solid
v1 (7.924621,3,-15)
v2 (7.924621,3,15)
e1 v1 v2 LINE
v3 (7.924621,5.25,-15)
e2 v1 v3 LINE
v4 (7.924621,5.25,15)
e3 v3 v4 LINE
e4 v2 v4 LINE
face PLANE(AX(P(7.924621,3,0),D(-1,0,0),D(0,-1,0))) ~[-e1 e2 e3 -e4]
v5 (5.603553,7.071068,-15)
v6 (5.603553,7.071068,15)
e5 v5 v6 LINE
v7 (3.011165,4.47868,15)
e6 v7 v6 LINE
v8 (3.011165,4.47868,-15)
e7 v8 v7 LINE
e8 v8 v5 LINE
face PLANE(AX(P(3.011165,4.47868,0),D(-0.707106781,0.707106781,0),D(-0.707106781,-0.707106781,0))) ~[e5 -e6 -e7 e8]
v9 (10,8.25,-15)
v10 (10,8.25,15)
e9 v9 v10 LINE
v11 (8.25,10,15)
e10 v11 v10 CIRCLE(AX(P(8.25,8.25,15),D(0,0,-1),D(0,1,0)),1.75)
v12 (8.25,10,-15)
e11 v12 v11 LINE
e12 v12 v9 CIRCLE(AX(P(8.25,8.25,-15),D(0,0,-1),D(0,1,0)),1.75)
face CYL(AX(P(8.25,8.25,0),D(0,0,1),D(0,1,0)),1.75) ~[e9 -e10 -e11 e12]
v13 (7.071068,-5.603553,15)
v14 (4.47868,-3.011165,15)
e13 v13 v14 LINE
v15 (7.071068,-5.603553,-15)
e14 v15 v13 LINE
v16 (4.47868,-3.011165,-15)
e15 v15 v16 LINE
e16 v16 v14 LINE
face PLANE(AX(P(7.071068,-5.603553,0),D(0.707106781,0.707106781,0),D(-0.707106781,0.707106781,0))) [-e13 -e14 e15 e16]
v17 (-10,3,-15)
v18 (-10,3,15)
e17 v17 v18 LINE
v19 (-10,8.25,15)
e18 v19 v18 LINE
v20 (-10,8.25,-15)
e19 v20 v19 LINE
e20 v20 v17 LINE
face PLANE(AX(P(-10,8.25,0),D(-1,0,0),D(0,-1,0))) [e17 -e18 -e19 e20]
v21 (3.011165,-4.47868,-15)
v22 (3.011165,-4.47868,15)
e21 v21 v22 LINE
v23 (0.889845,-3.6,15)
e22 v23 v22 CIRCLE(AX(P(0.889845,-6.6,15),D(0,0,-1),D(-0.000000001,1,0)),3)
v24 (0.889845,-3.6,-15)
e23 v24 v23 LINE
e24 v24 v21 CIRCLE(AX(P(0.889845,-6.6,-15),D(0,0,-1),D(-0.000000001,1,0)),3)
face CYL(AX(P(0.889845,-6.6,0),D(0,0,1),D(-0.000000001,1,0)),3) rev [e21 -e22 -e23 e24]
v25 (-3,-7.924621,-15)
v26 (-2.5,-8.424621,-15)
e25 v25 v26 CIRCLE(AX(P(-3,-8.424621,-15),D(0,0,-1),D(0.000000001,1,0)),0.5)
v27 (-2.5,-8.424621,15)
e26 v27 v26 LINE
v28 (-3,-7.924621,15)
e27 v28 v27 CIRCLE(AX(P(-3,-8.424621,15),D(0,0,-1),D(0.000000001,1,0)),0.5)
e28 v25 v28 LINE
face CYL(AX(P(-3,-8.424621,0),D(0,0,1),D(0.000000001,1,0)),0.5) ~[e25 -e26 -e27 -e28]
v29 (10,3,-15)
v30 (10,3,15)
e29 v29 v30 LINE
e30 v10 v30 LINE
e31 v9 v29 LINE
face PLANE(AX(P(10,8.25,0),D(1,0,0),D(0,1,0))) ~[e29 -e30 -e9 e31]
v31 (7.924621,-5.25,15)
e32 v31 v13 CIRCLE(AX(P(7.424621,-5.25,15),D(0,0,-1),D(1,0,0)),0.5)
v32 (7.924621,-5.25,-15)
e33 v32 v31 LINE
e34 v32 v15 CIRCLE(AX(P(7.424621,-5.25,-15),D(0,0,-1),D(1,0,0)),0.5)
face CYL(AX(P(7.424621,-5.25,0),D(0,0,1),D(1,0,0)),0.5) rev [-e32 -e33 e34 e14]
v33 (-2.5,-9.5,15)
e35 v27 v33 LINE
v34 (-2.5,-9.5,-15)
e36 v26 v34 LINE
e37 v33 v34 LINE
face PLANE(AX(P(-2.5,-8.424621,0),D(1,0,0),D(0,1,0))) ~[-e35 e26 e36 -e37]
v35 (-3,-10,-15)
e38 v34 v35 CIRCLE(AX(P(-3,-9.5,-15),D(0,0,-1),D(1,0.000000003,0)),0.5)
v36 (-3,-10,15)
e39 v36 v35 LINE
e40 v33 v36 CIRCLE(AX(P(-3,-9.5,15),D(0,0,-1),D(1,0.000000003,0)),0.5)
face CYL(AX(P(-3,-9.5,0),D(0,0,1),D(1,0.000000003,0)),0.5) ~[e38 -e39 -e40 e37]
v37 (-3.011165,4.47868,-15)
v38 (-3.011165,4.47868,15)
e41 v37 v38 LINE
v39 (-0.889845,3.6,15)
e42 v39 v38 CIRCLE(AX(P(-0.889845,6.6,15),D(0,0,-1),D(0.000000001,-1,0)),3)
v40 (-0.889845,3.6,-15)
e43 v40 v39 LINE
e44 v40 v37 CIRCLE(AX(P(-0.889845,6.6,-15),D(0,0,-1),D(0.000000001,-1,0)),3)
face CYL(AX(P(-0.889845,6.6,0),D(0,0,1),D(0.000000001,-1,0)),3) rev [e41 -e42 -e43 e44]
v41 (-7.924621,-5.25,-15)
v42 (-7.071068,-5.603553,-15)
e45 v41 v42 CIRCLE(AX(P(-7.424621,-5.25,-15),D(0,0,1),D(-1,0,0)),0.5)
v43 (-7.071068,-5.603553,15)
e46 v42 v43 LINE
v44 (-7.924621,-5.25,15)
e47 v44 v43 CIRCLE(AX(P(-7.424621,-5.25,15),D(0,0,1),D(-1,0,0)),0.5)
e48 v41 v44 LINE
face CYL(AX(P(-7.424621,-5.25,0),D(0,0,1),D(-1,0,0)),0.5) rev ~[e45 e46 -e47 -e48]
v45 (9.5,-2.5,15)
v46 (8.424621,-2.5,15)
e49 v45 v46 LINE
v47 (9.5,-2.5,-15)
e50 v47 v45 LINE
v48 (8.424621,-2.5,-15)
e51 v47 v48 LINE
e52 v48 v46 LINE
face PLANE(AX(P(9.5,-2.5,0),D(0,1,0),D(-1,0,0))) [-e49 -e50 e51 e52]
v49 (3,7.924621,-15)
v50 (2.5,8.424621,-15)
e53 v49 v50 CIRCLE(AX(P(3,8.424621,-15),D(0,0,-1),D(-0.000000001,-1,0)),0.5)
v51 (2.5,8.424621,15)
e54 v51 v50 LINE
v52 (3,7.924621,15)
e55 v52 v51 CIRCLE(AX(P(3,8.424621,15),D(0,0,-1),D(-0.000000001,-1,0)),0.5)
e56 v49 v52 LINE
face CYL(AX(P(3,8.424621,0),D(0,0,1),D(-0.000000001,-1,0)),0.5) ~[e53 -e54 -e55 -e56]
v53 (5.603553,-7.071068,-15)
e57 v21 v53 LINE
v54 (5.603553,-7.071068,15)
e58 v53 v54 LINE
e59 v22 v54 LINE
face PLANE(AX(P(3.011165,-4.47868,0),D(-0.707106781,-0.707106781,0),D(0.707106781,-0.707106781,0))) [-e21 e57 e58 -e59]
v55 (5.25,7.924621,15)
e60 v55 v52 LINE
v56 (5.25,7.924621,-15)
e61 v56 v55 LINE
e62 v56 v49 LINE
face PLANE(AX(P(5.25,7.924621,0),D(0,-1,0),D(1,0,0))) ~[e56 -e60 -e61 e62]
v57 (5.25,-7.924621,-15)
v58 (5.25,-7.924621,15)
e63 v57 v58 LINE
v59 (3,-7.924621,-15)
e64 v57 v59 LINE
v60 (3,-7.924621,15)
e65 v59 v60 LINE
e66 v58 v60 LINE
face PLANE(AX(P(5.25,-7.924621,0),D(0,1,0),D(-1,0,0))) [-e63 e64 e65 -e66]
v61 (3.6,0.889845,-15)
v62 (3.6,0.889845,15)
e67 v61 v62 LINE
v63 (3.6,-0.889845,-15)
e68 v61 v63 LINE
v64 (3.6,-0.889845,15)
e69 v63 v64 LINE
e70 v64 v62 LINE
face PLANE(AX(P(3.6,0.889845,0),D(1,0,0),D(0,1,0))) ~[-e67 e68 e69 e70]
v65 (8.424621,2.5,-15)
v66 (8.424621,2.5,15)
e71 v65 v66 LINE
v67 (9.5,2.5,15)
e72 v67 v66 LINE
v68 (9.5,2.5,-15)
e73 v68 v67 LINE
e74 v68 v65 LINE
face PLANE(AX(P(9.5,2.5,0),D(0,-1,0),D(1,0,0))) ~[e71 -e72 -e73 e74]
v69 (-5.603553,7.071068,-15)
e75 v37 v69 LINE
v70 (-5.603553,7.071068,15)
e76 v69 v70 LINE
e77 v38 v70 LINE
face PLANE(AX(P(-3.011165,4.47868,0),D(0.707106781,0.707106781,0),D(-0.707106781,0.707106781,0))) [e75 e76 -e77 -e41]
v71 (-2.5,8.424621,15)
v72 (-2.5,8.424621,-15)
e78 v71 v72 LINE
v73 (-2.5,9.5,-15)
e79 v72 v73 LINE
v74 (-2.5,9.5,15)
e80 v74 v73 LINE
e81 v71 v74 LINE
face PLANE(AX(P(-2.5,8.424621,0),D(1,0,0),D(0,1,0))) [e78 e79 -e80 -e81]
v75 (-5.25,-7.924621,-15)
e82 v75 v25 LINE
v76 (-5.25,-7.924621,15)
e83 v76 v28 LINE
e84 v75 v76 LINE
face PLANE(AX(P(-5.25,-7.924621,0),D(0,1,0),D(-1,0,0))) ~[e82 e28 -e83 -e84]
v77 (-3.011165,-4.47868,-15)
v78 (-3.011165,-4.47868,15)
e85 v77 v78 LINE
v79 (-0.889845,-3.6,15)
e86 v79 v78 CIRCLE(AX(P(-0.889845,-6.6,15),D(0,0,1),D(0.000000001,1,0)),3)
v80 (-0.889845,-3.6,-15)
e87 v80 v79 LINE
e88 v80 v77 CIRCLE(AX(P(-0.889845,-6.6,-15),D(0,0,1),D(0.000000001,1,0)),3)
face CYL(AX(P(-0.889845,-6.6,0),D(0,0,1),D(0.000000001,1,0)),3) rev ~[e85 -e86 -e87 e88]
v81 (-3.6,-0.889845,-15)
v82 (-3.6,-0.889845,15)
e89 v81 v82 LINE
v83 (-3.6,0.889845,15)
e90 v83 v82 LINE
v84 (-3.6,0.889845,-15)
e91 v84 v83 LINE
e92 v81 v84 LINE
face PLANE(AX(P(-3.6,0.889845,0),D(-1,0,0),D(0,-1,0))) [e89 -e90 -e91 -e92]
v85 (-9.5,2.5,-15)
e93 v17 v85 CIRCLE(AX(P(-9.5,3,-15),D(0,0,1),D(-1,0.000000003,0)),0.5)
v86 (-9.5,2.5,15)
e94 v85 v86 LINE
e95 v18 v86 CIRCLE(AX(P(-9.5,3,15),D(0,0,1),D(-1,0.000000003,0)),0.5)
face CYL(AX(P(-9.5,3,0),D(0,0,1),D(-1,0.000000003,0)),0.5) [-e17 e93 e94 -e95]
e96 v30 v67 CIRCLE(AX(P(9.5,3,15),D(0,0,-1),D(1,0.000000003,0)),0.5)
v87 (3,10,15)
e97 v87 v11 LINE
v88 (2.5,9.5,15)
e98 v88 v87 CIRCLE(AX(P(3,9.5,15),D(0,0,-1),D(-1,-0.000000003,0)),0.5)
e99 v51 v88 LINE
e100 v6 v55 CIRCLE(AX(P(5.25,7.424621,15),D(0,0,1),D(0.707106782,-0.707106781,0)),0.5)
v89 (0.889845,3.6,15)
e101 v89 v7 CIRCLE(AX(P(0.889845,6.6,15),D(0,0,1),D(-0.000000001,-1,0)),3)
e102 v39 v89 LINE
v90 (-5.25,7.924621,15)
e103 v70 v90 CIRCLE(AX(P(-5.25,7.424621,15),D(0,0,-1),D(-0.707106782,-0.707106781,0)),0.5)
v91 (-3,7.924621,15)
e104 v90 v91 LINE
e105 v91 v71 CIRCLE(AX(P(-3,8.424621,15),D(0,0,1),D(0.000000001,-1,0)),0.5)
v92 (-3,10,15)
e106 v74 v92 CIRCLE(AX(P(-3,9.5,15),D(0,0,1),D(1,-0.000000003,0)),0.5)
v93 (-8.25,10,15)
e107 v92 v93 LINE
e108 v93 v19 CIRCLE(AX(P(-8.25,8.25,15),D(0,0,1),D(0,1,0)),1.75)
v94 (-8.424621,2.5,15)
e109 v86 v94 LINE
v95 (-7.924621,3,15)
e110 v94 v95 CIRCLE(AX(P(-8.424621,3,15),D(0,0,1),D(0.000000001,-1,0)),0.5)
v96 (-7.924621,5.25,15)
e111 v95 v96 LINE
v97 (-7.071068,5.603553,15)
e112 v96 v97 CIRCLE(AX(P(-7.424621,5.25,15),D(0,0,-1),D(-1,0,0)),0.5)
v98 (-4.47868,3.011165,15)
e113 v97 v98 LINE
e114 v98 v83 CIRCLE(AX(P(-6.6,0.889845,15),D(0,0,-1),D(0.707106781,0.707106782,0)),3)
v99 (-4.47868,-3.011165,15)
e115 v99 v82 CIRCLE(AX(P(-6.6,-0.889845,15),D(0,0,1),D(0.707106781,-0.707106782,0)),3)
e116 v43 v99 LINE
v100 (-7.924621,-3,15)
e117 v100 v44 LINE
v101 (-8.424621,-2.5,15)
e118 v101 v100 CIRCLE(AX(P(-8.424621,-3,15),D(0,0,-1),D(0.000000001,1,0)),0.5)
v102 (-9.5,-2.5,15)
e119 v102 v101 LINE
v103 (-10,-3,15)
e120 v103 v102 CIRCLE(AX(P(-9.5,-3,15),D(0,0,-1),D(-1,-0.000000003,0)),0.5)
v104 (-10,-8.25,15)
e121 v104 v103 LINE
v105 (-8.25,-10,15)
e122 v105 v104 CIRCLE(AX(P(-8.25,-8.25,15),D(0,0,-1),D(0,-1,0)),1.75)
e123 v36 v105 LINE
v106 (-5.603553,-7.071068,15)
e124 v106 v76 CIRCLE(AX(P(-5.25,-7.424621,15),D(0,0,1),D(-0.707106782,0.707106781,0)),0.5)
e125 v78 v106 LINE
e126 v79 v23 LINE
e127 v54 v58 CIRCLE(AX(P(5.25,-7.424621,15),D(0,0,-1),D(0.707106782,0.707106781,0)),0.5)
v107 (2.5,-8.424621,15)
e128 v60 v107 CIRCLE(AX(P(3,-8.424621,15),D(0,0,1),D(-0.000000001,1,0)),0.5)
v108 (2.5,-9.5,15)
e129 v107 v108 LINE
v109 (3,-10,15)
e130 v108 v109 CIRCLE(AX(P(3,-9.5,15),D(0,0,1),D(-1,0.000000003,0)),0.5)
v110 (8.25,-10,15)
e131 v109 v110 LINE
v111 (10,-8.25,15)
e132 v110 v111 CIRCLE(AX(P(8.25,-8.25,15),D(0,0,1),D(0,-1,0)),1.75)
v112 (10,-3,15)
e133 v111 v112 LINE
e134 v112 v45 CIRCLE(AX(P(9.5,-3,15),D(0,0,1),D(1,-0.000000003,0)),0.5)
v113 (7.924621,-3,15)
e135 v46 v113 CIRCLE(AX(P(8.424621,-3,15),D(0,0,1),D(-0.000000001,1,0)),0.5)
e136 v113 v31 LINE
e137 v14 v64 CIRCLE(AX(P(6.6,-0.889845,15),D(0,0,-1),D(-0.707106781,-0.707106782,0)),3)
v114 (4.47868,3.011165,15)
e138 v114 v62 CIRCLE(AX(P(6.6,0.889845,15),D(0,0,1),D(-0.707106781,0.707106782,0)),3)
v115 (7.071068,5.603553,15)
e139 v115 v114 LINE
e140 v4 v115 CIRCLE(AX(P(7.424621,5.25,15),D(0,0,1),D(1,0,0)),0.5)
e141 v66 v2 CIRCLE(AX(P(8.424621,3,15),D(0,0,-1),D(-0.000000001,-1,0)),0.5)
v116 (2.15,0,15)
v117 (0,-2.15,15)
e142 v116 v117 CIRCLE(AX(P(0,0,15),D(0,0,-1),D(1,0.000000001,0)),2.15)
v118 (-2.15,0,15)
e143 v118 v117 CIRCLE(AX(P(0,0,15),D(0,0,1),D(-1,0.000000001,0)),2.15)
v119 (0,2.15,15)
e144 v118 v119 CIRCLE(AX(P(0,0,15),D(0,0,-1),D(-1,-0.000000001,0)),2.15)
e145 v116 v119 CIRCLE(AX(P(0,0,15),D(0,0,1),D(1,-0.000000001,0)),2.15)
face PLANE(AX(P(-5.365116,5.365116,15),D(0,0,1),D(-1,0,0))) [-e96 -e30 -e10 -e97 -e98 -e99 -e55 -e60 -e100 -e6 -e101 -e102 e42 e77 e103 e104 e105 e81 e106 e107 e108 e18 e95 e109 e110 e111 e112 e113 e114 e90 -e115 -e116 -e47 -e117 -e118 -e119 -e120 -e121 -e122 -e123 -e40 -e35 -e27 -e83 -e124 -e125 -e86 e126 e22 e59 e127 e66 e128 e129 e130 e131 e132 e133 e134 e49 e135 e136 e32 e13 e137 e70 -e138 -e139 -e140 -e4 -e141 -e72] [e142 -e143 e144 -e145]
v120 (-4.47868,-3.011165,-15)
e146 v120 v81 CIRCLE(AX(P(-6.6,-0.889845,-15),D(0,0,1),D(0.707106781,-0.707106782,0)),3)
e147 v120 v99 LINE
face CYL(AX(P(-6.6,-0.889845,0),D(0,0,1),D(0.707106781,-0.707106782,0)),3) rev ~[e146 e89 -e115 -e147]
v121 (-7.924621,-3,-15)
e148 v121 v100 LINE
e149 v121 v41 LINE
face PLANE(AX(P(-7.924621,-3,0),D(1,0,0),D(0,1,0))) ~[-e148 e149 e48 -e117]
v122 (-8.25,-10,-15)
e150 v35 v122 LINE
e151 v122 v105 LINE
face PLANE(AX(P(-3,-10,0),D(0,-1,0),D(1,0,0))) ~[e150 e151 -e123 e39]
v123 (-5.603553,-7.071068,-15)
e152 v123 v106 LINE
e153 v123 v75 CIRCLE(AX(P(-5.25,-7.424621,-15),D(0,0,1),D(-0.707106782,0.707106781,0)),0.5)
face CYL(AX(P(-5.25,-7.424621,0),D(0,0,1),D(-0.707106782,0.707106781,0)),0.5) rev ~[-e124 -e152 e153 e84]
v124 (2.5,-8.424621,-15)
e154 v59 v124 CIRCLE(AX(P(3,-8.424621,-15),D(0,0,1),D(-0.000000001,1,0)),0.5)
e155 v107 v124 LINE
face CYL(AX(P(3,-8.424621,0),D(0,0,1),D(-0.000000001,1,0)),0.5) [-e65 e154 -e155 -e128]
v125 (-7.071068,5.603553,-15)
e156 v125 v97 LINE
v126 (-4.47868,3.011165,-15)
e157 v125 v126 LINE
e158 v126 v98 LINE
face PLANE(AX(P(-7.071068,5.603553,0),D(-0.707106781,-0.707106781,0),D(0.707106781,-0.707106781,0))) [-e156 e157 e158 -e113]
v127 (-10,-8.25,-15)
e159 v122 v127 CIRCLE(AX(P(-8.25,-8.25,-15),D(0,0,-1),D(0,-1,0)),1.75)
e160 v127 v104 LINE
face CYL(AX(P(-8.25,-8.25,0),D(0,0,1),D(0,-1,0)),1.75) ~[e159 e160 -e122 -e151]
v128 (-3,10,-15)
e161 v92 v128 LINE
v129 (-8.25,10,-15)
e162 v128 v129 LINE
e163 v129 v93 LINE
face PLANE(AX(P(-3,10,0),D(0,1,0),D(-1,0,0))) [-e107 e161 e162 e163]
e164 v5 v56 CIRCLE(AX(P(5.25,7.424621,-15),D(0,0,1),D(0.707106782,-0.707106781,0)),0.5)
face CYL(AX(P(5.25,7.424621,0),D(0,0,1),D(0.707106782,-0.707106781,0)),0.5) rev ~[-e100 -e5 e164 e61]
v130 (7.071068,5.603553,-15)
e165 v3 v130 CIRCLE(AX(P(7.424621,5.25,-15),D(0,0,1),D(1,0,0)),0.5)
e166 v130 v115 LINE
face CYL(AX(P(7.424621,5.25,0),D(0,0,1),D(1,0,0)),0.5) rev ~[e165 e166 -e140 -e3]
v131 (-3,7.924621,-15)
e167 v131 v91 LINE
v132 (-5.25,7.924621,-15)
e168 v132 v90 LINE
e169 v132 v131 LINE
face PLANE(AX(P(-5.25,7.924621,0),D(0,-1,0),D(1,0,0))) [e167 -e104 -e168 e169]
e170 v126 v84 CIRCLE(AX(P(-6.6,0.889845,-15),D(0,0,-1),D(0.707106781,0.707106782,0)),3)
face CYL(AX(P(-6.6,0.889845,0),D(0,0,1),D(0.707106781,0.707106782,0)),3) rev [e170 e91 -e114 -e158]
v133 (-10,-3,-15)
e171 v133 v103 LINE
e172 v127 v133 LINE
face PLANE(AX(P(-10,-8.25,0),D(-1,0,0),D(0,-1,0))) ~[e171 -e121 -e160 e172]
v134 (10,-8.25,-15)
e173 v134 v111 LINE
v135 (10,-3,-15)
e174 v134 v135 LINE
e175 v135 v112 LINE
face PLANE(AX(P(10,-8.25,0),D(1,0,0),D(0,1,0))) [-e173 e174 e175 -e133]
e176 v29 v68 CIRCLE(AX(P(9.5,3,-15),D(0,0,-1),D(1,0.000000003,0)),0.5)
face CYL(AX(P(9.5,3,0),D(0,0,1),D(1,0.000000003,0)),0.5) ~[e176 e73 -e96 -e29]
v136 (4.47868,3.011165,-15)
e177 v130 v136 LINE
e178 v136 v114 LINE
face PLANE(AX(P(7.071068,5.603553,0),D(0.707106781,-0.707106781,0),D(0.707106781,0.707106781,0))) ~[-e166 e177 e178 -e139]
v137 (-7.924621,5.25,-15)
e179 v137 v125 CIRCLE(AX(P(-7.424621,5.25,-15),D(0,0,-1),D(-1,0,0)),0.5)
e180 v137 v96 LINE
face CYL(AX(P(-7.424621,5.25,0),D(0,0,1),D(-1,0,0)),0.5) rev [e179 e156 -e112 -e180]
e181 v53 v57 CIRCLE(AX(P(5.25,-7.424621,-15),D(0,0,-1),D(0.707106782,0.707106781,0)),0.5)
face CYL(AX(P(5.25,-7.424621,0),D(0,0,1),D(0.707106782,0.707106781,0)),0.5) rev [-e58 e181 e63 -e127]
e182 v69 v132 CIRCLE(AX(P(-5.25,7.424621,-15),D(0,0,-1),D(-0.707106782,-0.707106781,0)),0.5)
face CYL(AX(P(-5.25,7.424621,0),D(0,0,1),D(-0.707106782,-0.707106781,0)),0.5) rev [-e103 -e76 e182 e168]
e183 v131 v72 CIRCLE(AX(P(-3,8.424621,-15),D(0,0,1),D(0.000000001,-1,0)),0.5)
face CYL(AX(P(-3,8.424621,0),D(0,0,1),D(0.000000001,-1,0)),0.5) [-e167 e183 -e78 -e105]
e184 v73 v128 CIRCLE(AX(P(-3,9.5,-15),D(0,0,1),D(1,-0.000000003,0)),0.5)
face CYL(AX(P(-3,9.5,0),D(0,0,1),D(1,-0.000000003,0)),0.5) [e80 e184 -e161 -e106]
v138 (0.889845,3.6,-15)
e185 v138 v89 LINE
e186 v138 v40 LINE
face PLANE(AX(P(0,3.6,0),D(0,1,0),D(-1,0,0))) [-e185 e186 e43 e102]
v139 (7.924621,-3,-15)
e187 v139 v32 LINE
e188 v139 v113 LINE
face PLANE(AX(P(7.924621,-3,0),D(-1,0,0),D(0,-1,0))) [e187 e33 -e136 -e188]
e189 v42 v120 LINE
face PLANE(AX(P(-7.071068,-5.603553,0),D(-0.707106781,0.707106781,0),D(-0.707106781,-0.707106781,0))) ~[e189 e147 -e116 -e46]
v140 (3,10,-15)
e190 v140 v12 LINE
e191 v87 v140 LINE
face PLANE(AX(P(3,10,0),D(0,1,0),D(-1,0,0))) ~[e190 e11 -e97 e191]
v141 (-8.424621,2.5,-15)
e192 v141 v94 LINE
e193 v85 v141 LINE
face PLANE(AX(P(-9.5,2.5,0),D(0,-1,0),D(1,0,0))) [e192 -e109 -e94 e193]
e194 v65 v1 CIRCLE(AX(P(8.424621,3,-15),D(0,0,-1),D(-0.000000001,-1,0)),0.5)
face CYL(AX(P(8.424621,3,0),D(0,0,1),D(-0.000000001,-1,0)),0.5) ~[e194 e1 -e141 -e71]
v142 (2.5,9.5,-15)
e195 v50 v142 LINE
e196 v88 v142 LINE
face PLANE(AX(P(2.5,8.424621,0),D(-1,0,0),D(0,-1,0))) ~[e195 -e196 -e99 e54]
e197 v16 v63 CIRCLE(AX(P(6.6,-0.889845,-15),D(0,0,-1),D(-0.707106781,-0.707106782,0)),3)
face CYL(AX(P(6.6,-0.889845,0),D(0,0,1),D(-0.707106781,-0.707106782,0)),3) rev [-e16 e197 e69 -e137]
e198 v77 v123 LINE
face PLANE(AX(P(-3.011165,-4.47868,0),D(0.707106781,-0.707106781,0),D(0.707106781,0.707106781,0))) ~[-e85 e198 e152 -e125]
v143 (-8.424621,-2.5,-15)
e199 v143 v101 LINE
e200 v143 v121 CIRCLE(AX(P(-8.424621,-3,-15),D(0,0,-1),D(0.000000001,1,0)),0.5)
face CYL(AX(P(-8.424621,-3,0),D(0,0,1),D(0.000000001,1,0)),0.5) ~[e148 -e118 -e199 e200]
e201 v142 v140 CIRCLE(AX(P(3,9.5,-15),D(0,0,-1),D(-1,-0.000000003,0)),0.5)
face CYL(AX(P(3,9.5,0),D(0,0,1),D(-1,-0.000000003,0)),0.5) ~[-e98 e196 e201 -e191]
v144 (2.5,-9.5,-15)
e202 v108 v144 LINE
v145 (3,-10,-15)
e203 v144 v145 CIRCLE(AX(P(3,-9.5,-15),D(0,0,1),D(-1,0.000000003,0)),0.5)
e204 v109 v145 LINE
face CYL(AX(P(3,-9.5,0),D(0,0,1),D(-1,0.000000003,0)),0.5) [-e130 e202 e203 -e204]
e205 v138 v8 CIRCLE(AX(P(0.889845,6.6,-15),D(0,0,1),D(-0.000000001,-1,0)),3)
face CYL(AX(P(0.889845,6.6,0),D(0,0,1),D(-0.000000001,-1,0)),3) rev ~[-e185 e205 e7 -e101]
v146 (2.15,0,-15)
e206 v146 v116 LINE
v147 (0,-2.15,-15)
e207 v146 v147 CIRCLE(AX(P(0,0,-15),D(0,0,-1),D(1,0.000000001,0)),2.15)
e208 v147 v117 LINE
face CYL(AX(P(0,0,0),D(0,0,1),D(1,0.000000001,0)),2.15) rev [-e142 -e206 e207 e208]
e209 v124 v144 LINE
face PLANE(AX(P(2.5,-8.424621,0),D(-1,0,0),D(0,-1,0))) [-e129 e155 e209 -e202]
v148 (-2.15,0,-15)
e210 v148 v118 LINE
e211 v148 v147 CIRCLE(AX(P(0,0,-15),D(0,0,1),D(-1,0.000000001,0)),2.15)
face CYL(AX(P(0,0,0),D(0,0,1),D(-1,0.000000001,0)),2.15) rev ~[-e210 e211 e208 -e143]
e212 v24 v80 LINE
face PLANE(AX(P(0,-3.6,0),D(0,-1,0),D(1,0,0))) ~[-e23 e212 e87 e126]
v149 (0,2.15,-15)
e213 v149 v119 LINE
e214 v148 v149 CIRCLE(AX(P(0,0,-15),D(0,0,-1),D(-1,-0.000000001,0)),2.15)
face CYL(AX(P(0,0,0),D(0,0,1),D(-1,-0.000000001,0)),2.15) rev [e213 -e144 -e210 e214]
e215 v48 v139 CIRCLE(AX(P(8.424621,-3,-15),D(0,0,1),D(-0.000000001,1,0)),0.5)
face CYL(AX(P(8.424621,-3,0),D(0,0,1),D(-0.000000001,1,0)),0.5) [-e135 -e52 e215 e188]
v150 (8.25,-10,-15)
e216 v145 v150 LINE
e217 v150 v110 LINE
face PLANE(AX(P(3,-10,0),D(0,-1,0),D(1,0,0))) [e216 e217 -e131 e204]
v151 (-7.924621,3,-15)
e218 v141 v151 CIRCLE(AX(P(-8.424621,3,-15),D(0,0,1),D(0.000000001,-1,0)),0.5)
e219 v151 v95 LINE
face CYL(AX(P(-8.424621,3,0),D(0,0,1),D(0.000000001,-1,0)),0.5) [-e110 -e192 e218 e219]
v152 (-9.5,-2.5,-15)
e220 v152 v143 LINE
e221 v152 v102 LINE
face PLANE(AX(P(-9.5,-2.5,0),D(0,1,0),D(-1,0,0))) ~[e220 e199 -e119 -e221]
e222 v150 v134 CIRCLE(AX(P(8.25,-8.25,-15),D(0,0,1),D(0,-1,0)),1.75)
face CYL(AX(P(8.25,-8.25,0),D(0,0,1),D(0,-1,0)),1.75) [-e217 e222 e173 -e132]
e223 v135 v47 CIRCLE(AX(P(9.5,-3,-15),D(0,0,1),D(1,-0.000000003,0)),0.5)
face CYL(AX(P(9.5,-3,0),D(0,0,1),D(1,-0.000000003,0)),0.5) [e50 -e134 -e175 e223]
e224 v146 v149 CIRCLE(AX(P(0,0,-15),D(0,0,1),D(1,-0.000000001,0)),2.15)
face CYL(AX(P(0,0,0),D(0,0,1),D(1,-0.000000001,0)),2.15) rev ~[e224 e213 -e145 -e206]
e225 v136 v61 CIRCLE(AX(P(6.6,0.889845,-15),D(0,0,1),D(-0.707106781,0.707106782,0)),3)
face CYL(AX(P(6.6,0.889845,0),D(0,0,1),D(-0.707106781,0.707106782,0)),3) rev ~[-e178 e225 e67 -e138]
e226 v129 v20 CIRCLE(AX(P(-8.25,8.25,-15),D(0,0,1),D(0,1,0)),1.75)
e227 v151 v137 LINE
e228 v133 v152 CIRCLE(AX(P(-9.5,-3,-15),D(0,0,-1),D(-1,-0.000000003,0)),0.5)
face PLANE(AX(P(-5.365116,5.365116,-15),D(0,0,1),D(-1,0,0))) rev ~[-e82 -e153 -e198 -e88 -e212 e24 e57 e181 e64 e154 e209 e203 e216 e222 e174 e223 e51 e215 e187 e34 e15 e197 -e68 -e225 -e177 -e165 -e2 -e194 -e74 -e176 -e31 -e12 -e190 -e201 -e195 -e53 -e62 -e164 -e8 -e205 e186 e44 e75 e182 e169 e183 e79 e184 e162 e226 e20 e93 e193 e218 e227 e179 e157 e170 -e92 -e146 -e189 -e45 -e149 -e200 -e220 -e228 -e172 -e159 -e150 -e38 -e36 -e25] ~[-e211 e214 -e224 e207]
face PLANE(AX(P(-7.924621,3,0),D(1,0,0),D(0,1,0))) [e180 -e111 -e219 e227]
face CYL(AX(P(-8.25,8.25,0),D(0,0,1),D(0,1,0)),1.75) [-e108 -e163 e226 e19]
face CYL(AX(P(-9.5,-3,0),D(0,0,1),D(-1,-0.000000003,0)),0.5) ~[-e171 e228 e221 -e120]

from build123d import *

# Parameters (mm, degrees)
BOSS_EXTRUDE1_DEPTH = 15


with BuildPart() as part:
    # Sketch4 → Boss-Extrude1 (new, symmetric)
    with BuildSketch(Plane.XY):
        with BuildLine():
            Line((3, -10), (8.25, -10))
            ThreePointArc((8.25, -10), (9.487436867, -9.487436867), (10, -8.25))
            Line((10, -8.25), (10, -3))
            ThreePointArc((10, -3), (9.853553391, -2.646446609), (9.5, -2.5))
            Line((9.5, -2.5), (8.424621202, -2.5))
            ThreePointArc((8.424621202, -2.5), (8.071067812, -2.646446609), (7.924621202, -3))
            Line((7.924621202, -3), (7.924621202, -5.25))
            ThreePointArc((7.924621202, -5.25), (7.615962919, -5.711939766), (7.071067812, -5.603553391))
            Line((7.071067812, -5.603553391), (4.478679656, -3.011165235))
            ThreePointArc((4.478679656, -3.011165235), (3.828361402, -2.037895189), (3.6, -0.889844892))
            Line((3.6, -0.889844892), (3.6, 0))
            Line((3.6, 0), (2.15, 0))
            ThreePointArc((2.15, 0), (1.52027958, -1.52027958), (0, -2.15))
            Line((0, -2.15), (0, -3.6))
            Line((0, -3.6), (0.889844892, -3.6))
            ThreePointArc((0.889844892, -3.6), (2.037895189, -3.828361402), (3.011165235, -4.478679656))
            Line((3.011165235, -4.478679656), (5.603553391, -7.071067812))
            ThreePointArc((5.603553391, -7.071067812), (5.711939766, -7.615962919), (5.25, -7.924621202))
            Line((5.25, -7.924621202), (3, -7.924621202))
            ThreePointArc((3, -7.924621202), (2.646446609, -8.071067812), (2.5, -8.424621202))
            Line((2.5, -8.424621202), (2.5, -9.5))
            ThreePointArc((2.5, -9.5), (2.646446609, -9.853553391), (3, -10))
        make_face()
    extrude(amount=BOSS_EXTRUDE1_DEPTH, both=True)

    # Mirror1: part across plane


with BuildPart() as part_1:
    add(part.part)
    add(part.part.mirror(Plane(origin=(0, 0, 0), x_dir=(0, 0, 1), z_dir=(1, 0, 0))))

    # Mirror2: part across plane


with BuildPart() as part_2:
    add(part_1.part)
    add(part_1.part.mirror(Plane.ZX))


solid = part_2.part
